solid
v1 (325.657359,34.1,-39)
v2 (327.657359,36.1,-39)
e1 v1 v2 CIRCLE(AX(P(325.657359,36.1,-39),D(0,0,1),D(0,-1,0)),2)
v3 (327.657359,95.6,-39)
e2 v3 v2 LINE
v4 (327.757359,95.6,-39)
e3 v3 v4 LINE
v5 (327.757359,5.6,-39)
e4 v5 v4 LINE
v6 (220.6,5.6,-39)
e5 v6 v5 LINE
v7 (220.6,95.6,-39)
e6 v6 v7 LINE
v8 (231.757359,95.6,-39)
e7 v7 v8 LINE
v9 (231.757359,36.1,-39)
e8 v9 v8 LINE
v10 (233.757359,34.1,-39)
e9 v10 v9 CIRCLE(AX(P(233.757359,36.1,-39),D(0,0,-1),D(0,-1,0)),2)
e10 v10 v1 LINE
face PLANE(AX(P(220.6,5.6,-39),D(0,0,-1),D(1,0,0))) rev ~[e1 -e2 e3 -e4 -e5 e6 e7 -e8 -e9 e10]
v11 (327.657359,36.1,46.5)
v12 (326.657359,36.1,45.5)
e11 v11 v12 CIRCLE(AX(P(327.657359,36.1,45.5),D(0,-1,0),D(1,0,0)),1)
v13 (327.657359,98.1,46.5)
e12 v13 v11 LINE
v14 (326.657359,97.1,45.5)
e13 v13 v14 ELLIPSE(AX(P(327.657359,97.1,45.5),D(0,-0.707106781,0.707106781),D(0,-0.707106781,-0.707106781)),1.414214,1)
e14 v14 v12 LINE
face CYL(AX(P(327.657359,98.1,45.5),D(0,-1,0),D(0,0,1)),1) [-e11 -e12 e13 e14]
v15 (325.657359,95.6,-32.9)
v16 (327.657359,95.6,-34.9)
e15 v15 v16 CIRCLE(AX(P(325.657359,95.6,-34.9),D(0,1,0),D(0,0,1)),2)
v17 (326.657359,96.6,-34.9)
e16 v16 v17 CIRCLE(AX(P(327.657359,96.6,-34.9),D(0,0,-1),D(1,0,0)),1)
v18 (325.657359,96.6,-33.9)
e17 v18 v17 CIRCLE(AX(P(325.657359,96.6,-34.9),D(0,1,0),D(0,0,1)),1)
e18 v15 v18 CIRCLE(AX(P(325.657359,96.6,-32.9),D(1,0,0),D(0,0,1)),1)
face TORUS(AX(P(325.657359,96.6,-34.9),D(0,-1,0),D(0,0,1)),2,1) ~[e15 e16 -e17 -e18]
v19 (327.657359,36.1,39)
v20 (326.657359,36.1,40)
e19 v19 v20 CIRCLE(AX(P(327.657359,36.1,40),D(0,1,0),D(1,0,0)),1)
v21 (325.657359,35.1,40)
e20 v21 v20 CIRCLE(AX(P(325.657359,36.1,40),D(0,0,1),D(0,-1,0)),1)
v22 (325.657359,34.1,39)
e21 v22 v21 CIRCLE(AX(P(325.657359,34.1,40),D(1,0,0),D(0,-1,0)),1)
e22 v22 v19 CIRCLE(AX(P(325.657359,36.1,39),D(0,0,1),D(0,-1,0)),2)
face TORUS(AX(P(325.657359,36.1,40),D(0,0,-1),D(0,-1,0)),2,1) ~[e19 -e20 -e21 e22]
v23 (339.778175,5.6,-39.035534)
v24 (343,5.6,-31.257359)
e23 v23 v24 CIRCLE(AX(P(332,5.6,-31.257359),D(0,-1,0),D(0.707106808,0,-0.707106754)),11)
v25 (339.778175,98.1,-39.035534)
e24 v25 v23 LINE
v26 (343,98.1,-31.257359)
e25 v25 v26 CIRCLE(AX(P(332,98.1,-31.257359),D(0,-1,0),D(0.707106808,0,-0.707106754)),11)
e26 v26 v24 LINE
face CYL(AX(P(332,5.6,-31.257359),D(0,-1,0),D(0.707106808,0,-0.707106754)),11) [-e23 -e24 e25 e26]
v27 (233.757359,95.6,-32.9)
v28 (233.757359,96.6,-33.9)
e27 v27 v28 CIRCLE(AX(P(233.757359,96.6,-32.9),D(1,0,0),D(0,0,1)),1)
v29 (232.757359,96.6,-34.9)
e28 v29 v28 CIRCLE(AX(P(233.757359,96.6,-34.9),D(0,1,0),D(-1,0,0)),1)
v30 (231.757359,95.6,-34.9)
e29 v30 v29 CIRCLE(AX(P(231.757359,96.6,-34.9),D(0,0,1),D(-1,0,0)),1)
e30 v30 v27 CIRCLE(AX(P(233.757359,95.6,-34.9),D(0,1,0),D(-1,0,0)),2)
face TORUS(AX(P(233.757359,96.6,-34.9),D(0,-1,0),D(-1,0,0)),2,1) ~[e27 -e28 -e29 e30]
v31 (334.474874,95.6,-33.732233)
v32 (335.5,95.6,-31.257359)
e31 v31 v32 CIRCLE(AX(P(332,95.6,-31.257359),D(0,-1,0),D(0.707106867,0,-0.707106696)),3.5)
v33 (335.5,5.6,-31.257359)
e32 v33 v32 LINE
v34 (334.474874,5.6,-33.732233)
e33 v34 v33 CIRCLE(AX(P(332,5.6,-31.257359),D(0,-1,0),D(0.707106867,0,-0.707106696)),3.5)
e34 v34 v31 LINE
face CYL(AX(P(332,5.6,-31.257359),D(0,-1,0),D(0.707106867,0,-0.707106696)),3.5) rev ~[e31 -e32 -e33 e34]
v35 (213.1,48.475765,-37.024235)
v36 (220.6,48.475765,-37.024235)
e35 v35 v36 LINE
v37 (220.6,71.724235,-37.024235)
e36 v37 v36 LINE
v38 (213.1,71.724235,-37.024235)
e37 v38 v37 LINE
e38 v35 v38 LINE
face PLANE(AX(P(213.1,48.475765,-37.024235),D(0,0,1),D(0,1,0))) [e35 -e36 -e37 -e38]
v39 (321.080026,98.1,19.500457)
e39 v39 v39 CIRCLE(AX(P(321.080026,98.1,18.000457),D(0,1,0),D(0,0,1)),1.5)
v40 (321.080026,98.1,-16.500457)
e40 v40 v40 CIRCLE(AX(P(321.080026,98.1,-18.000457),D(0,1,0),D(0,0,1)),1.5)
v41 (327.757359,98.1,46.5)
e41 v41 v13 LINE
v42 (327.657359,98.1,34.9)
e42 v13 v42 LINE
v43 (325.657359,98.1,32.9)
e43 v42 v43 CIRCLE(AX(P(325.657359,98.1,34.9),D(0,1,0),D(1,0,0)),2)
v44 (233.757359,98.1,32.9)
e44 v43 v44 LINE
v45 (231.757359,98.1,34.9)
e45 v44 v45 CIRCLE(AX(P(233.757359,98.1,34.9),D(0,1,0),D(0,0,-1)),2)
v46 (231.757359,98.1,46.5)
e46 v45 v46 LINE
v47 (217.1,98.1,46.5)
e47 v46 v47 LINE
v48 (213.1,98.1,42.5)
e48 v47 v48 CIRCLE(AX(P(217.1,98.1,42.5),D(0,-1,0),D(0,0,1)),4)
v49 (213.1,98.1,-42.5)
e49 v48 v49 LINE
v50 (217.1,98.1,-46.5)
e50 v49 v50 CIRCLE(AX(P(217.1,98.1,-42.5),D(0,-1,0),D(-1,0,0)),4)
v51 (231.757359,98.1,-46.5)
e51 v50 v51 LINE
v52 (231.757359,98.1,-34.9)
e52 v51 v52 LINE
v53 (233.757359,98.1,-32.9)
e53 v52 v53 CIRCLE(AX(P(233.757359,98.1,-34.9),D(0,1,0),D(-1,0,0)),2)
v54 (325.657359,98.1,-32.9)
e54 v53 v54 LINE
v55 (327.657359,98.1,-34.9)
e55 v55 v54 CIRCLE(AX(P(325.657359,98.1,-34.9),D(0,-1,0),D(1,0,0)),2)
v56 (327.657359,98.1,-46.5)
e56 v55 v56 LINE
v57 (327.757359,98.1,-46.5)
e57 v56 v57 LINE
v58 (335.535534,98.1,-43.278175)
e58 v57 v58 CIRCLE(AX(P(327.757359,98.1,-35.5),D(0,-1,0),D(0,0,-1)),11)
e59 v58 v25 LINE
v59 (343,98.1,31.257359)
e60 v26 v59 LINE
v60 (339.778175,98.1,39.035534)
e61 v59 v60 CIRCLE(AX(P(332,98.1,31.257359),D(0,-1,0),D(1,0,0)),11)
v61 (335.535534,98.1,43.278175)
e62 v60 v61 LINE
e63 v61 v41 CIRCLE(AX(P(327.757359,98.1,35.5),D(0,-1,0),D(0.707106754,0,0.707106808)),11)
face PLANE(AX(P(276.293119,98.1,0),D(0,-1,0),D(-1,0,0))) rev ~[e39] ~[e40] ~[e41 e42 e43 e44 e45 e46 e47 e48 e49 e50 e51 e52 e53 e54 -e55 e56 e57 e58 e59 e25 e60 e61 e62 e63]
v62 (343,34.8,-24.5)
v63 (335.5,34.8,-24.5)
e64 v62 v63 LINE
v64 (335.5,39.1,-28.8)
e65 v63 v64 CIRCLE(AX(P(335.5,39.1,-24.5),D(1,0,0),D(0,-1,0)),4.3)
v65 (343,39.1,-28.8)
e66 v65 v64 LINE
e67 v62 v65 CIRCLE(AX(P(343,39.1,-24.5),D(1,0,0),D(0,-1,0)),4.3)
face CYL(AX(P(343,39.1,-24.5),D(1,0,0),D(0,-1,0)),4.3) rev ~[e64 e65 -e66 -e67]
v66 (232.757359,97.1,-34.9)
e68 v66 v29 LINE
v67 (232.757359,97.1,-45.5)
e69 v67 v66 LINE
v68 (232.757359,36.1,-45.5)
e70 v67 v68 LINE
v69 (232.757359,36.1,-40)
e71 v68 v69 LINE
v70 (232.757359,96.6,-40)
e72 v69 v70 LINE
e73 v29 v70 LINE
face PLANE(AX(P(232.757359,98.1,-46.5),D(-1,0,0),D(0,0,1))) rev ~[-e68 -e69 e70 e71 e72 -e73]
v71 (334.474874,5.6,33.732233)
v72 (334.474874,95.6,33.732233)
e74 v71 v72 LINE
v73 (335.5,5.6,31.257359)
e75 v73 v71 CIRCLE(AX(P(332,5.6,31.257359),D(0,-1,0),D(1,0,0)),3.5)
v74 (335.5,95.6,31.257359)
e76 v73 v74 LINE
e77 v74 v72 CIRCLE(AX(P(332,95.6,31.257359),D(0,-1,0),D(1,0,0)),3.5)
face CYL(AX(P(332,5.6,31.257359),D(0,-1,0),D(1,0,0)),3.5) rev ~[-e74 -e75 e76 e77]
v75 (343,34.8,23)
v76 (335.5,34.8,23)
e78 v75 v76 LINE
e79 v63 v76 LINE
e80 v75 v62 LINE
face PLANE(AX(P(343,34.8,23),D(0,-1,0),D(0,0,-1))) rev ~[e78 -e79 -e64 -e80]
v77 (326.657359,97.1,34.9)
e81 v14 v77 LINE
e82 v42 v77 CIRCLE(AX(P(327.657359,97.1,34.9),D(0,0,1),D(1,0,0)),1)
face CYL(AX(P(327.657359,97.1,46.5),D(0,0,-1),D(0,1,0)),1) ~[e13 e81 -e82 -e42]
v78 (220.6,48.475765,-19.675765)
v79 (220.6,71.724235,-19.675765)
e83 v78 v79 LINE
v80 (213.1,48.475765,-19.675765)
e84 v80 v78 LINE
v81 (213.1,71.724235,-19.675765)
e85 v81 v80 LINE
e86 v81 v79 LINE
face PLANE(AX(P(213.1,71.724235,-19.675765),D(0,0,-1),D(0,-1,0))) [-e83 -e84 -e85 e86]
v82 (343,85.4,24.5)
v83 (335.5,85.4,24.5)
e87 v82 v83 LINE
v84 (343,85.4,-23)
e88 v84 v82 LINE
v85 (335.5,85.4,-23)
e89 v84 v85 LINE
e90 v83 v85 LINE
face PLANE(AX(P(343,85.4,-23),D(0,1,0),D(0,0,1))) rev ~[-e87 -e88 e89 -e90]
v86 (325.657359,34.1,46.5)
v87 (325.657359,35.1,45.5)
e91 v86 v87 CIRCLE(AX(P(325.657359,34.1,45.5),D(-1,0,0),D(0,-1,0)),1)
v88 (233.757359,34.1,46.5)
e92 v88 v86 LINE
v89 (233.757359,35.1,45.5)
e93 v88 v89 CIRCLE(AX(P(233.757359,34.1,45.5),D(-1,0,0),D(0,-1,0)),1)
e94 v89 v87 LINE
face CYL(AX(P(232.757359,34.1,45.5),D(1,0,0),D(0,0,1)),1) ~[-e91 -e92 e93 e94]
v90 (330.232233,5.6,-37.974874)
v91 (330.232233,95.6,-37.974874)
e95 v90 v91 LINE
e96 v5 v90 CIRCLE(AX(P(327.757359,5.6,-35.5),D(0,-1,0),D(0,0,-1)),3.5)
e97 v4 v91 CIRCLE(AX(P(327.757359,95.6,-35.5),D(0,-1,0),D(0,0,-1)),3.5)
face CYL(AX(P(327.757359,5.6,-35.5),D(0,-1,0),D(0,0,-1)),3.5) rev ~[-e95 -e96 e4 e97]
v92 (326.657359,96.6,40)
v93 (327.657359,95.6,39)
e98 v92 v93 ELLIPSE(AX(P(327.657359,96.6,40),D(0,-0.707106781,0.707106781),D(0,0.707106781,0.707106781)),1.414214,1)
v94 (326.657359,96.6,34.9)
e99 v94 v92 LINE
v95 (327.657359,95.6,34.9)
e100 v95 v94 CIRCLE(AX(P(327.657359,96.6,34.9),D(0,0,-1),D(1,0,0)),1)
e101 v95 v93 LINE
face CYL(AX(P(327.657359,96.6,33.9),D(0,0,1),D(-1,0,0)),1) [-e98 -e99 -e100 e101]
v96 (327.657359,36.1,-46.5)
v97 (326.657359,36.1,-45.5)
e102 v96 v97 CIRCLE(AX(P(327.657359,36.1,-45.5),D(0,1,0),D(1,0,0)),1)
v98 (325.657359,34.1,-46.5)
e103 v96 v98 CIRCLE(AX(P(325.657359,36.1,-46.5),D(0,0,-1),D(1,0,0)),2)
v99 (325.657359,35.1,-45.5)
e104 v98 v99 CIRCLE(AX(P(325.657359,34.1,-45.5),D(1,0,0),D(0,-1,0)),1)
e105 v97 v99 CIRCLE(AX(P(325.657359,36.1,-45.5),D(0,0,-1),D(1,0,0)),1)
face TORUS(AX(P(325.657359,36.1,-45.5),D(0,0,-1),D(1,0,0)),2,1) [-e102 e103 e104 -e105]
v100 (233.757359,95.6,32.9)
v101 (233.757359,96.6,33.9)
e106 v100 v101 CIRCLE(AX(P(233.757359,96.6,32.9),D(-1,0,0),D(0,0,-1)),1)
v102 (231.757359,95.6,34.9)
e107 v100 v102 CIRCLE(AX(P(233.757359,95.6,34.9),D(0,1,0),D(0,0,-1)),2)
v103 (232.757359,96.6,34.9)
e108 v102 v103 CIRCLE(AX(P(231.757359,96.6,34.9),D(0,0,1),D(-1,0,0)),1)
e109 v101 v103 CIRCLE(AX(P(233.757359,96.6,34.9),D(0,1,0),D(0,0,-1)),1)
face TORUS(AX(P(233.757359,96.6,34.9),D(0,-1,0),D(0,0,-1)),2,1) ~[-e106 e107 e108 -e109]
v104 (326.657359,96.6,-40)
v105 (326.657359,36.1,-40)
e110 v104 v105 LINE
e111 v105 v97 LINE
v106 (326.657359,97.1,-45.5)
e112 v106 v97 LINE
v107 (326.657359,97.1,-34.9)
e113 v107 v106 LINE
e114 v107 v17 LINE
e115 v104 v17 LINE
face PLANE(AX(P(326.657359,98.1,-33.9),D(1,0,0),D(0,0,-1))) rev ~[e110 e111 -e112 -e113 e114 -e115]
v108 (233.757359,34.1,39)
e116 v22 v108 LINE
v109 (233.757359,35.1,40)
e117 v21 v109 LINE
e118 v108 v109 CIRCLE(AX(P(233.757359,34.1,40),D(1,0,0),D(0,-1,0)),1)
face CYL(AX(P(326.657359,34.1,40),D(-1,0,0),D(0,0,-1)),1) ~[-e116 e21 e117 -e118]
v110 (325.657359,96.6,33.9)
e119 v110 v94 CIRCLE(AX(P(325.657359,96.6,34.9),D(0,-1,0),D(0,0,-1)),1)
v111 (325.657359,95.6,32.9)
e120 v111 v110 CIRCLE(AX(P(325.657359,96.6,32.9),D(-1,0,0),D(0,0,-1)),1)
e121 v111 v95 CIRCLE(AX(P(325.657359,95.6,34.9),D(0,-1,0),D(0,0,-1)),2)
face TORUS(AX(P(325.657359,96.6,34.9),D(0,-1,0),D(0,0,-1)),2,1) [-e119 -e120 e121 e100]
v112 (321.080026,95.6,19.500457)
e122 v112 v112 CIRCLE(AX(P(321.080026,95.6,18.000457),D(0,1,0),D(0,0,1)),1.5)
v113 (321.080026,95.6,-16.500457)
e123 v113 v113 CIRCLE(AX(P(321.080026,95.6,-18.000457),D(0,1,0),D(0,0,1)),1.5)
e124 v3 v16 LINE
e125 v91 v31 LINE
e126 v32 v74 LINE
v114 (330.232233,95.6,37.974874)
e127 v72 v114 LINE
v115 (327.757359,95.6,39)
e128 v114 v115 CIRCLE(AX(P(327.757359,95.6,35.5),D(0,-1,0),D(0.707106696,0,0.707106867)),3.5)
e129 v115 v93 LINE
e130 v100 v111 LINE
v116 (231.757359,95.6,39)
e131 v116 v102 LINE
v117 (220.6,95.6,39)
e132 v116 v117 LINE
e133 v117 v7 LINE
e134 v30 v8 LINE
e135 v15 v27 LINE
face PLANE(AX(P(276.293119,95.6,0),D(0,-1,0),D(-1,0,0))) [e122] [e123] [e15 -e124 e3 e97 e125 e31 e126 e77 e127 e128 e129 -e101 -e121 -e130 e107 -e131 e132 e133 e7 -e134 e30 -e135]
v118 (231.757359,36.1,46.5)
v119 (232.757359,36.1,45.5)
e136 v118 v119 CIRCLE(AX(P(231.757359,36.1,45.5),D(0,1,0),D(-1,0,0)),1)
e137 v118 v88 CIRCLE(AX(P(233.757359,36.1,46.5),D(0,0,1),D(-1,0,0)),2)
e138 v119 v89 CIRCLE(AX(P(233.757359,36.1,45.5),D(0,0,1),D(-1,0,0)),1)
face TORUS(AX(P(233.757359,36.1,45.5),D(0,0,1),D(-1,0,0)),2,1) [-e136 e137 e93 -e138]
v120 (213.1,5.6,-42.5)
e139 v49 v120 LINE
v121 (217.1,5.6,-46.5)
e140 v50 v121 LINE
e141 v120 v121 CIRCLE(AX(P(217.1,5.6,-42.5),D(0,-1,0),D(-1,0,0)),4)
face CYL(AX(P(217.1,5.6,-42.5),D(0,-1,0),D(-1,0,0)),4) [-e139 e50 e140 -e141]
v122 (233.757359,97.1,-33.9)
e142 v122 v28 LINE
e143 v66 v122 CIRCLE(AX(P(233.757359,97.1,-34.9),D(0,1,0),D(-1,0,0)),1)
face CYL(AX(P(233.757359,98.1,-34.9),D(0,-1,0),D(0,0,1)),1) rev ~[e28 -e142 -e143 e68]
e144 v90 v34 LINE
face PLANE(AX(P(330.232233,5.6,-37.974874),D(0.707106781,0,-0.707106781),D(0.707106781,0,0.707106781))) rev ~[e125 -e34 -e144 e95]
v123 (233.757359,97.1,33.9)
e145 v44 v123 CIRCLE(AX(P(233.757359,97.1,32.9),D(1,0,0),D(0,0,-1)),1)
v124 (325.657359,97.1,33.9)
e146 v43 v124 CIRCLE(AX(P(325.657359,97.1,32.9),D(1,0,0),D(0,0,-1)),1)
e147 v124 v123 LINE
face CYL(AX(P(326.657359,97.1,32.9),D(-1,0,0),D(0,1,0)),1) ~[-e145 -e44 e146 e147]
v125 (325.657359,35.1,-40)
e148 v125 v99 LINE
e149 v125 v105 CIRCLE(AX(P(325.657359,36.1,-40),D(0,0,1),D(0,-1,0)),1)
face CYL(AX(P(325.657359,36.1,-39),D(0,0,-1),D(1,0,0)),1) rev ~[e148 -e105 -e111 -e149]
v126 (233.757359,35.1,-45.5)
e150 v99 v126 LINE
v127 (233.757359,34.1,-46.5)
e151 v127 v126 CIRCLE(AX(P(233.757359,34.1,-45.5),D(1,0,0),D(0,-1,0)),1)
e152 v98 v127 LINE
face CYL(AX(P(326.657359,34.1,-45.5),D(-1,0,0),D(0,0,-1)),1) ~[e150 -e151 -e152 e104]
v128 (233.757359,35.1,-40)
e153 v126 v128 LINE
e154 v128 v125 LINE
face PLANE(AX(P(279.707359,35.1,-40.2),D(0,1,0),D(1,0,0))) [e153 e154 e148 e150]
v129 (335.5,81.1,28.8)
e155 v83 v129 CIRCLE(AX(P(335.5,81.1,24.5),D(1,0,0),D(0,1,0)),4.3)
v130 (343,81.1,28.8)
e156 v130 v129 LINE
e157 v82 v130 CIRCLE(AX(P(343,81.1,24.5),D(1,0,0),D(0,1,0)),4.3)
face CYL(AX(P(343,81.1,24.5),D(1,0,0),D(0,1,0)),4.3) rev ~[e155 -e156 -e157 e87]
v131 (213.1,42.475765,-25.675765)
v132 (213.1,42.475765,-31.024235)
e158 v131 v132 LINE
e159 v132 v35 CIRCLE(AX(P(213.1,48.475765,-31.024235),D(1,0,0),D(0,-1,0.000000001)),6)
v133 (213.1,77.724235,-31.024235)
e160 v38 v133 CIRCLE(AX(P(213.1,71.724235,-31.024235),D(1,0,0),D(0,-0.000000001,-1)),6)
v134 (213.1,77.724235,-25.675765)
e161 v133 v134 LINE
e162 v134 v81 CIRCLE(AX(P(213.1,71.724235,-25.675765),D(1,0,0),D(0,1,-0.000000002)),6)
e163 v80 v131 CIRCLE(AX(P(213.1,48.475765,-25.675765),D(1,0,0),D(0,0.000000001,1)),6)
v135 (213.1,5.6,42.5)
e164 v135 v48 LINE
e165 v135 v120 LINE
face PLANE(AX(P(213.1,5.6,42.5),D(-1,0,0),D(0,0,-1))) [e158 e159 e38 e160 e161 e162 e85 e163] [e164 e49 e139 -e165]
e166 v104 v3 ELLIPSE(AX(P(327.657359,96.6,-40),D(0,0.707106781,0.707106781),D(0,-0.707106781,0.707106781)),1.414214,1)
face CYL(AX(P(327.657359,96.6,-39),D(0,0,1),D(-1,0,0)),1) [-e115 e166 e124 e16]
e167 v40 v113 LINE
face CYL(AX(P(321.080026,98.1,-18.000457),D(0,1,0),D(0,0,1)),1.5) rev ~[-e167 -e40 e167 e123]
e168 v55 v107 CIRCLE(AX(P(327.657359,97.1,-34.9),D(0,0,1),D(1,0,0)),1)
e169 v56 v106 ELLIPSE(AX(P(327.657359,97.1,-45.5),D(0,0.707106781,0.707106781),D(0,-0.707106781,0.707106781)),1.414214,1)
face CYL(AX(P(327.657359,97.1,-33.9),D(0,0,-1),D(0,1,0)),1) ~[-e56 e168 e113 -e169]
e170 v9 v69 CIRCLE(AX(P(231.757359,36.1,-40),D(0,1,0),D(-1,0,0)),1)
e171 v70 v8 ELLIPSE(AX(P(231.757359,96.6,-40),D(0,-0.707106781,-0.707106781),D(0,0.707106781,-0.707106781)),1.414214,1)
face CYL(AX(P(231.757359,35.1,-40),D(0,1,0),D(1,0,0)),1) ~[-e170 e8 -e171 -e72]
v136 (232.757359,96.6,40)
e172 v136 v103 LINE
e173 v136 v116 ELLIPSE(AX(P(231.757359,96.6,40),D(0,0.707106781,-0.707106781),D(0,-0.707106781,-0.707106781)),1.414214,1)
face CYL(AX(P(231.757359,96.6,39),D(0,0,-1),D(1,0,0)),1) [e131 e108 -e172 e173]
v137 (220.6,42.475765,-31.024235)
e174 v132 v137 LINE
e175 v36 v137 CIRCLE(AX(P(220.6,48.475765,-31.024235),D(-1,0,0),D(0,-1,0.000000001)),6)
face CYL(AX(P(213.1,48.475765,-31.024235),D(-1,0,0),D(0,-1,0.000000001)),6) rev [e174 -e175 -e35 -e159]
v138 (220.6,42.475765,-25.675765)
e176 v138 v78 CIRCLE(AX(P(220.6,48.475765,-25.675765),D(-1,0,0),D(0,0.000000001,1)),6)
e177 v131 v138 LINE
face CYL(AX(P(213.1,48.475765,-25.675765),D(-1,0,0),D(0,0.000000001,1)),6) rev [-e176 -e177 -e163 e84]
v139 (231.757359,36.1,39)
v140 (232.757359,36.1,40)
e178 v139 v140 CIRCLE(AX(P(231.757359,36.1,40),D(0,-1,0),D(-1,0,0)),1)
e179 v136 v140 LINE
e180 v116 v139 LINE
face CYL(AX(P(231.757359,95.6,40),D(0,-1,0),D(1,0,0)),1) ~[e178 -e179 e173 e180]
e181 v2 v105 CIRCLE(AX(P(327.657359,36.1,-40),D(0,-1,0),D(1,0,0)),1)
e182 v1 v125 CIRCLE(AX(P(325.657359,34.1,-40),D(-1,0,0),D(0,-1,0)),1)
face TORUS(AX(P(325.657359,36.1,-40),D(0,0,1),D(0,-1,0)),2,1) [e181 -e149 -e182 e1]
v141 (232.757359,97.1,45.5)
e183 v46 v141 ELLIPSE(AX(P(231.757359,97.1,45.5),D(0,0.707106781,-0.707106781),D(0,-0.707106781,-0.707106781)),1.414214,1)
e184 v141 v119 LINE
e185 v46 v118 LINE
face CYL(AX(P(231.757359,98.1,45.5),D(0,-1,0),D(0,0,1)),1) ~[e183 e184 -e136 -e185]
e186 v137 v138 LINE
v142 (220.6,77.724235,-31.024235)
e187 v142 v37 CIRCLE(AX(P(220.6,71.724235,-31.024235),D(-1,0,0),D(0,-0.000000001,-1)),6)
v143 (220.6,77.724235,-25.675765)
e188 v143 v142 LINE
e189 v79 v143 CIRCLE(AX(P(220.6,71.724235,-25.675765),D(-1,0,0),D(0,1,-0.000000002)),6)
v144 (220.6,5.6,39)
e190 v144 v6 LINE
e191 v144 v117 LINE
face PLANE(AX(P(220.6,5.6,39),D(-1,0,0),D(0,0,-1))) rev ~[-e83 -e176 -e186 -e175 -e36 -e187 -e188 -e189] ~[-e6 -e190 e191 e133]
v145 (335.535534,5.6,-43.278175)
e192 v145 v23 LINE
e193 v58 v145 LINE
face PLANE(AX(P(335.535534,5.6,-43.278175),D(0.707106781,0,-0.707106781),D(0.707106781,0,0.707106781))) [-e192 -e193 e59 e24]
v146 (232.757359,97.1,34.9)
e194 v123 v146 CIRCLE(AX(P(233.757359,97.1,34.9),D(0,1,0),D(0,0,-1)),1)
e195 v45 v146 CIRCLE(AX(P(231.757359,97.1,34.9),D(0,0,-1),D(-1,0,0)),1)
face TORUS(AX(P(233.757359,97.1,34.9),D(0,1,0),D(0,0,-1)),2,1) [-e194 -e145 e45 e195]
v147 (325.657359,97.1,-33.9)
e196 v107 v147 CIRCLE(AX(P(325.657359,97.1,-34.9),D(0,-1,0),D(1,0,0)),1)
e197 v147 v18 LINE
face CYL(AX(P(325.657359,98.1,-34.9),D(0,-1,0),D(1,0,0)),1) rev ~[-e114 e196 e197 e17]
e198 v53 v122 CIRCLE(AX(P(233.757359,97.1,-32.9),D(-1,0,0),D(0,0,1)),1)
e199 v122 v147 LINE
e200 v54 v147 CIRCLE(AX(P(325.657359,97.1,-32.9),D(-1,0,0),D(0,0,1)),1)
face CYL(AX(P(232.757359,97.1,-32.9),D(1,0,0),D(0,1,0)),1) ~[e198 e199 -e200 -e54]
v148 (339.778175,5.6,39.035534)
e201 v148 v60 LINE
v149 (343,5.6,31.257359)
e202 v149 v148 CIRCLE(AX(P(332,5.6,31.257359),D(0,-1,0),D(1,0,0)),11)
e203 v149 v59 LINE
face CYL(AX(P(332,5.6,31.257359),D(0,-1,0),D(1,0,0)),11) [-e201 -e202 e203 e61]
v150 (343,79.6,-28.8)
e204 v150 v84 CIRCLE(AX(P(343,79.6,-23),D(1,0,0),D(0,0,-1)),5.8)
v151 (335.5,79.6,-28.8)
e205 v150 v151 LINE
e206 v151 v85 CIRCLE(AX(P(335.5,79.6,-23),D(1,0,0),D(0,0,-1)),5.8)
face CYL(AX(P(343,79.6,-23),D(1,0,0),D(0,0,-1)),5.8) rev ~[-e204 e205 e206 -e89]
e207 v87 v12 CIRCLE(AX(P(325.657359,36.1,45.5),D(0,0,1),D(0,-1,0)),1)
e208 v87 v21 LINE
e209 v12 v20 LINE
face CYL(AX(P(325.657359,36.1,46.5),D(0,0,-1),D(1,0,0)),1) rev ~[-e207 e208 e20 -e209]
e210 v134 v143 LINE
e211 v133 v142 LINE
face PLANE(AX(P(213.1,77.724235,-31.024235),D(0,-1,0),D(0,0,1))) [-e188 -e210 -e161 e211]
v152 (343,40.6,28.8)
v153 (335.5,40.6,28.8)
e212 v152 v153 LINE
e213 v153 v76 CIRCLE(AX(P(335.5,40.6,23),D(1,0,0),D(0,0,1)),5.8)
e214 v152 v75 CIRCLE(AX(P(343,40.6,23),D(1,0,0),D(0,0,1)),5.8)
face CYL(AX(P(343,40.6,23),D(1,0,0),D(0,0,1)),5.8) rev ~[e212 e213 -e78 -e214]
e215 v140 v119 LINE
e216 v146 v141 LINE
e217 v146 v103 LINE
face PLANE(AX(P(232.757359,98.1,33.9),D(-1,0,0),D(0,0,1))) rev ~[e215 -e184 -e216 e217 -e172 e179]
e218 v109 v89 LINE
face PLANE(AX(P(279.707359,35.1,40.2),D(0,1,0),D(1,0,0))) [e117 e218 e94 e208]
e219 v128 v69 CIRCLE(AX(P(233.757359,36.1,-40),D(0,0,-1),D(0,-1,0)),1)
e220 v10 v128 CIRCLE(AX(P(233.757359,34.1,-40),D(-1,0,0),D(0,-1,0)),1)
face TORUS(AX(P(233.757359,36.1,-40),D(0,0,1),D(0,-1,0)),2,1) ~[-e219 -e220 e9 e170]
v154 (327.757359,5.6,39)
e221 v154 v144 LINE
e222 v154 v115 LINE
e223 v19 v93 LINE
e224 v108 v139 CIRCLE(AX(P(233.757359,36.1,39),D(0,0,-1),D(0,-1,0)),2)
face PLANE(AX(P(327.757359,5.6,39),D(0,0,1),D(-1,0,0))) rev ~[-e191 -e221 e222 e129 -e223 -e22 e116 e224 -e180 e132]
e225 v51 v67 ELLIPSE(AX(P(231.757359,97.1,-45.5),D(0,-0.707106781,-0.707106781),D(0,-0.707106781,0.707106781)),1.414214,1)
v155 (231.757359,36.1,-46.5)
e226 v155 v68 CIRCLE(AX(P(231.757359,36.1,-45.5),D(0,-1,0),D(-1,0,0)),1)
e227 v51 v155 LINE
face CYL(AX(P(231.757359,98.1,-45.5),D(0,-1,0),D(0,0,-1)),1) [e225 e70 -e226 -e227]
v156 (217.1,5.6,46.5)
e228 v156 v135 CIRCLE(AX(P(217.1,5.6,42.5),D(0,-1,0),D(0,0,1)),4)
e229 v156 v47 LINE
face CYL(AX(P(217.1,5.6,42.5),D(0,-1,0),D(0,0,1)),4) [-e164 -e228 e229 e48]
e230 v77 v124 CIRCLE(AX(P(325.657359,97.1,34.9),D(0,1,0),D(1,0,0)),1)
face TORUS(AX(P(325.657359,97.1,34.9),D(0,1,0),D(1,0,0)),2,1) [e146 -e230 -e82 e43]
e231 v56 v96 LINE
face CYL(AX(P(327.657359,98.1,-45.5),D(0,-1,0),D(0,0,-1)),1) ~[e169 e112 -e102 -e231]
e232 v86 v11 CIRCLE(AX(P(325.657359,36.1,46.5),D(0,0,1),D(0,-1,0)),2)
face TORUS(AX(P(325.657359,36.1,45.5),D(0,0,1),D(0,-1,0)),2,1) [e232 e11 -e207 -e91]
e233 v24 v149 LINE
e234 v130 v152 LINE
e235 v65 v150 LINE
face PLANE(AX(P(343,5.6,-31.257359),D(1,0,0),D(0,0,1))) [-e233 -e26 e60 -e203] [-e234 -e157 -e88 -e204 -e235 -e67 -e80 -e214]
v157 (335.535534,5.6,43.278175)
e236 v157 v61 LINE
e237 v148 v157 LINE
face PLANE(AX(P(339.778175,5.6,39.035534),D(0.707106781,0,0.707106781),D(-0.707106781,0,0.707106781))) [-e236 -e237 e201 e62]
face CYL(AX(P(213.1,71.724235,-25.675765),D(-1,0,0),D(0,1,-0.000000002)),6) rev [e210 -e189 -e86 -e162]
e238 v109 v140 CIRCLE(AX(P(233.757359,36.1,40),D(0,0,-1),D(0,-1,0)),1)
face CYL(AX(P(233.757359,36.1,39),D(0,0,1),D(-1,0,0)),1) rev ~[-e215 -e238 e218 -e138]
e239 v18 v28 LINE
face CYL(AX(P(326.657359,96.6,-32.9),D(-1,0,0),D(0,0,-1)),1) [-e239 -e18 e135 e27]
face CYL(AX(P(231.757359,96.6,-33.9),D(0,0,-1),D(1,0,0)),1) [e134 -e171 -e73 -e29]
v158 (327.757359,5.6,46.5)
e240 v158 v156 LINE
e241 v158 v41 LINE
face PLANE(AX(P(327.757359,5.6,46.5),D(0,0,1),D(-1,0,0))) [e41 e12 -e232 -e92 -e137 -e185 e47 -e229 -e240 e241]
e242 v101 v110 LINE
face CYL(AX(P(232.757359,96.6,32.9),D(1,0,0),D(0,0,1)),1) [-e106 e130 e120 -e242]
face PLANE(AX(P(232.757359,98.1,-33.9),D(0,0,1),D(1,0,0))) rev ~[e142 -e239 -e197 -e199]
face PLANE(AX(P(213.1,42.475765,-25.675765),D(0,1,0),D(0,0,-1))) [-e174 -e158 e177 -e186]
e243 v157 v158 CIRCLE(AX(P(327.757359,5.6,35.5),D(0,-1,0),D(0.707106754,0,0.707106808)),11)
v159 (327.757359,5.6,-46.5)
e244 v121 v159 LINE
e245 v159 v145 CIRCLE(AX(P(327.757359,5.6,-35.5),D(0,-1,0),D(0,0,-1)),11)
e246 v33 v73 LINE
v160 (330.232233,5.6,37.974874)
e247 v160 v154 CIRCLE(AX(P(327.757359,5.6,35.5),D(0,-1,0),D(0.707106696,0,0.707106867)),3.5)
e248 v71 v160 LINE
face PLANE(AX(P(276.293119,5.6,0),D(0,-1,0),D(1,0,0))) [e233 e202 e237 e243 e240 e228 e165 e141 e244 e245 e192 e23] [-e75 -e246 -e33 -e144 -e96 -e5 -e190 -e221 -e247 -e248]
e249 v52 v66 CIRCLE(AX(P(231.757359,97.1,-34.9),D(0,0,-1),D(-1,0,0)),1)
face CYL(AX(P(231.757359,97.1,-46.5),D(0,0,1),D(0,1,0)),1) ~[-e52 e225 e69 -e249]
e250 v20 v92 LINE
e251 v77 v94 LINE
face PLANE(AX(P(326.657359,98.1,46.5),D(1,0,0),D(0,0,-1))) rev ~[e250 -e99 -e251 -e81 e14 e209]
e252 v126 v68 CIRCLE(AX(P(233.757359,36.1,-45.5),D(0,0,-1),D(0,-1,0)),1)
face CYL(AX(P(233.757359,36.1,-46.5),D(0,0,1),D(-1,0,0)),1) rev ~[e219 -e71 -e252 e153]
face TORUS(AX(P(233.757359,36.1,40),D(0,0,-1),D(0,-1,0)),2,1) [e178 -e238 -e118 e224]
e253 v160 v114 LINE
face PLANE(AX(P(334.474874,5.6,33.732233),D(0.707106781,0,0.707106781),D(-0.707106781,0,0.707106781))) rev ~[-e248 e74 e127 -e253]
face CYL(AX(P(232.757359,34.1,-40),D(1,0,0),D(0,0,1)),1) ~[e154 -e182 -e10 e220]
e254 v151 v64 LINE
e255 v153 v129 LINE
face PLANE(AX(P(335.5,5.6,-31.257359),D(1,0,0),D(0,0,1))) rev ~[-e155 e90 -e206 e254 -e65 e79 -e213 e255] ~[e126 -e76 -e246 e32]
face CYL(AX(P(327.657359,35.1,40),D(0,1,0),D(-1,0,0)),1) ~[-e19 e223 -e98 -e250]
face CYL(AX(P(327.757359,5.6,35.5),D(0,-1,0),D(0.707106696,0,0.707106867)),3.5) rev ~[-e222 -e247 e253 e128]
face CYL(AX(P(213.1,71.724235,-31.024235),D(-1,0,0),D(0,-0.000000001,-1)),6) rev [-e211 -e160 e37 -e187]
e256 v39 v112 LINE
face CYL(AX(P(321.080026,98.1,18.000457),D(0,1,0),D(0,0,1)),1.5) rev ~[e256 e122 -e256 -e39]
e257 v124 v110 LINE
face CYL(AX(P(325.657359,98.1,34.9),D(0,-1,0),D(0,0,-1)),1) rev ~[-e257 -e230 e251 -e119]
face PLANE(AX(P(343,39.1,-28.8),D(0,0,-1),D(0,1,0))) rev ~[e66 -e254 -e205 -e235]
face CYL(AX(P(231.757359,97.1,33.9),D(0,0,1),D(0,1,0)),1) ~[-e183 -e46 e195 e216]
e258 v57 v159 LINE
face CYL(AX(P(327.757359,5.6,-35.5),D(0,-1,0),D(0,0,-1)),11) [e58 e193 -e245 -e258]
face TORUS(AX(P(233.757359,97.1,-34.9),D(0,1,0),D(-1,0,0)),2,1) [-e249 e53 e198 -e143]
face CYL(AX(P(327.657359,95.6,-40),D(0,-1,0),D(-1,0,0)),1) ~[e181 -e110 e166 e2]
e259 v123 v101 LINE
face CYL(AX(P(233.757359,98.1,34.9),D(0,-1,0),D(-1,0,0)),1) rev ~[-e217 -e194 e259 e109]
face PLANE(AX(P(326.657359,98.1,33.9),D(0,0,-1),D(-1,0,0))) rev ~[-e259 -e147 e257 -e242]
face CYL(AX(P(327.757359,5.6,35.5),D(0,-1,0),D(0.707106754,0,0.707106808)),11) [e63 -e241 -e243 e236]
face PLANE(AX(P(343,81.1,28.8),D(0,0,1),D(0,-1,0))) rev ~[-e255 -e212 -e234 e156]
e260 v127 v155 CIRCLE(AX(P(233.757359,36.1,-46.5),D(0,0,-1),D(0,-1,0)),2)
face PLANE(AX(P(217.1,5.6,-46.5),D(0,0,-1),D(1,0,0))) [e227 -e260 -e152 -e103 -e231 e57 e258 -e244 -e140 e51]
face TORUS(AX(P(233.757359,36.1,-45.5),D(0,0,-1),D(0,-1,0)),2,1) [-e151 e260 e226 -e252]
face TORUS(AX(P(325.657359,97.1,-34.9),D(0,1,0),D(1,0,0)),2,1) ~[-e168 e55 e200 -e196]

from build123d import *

# Parameters (mm, degrees)
SALIENTE_EXTRUIR1_DEPTH = 2.5
SALIENTE_EXTRUIR2_START = 90
SALIENTE_EXTRUIR2_DEPTH = 90
CORTAR_EXTRUIR2_REACH   = 171.292
CORTAR_EXTRUIR4_DEPTH   = 63
REDONDEO1_R             = 1
CORTAR_EXTRUIR5_REACH   = 171.292
CROQUIS7_R              = 1.5
CORTAR_EXTRUIR6_DEPTH   = 5


with BuildPart() as part:
    # Croquis1 → Saliente-Extruir1 (new body)
    with BuildSketch(Plane(origin=(0, 95.6, 0), x_dir=(1, 0, 0), z_dir=(0, 1, 0))):
        with BuildLine():
            Line((327.757359313, -46.5), (227.242640687, -46.5))
            Line((227.242640687, -46.5), (217.1, -46.5))
            ThreePointArc((217.1, -46.5), (214.271572875, -45.328427125), (213.1, -42.5))
            Line((213.1, -42.5), (213.1, 42.5))
            ThreePointArc((213.1, 42.5), (214.271572875, 45.328427125), (217.1, 46.5))
            Line((217.1, 46.5), (227.242640687, 46.5))
            Line((227.242640687, 46.5), (327.757359313, 46.5))
            ThreePointArc((327.757359313, 46.5), (331.966877069, 45.662674858), (335.535533906, 43.278174593))
            Line((335.535533906, 43.278174593), (339.778174891, 39.035533608))
            ThreePointArc((339.778174891, 39.035533608), (342.162674938, 35.466876874), (343, 31.257359313))
            Line((343, 31.257359313), (343, -31.257359312))
            ThreePointArc((343, -31.257359312), (342.162674858, -35.466877069), (339.778174593, -39.035533906))
            Line((339.778174593, -39.035533906), (335.535533608, -43.278174891))
            ThreePointArc((335.535533608, -43.278174891), (331.966876874, -45.662674939), (327.757359313, -46.5))
        make_face()
    extrude(amount=SALIENTE_EXTRUIR1_DEPTH)

    # Croquis2 → Saliente-Extruir2 (add)
    with BuildSketch(Plane.XZ.offset(-95.6).offset(SALIENTE_EXTRUIR2_START)):
        with BuildLine():
            Line((213.1, 42.5), (213.1, -42.5))
            ThreePointArc((213.1, -42.5), (214.271572875, -45.328427125), (217.1, -46.5))
            Line((217.1, -46.5), (327.757359313, -46.5))
            ThreePointArc((327.757359313, -46.5), (331.966877069, -45.662674858), (335.535533906, -43.278174593))
            Line((335.535533906, -43.278174593), (339.778174891, -39.035533608))
            ThreePointArc((339.778174891, -39.035533608), (342.162674938, -35.466876874), (343, -31.257359313))
            Line((343, -31.257359313), (343, 31.257359312))
            ThreePointArc((343, 31.257359312), (342.162674858, 35.466877069), (339.778174593, 39.035533906))
            Line((339.778174593, 39.035533906), (335.535533608, 43.278174891))
            ThreePointArc((335.535533608, 43.278174891), (331.966876874, 45.662674939), (327.757359313, 46.5))
            Line((327.757359313, 46.5), (217.1, 46.5))
            ThreePointArc((217.1, 46.5), (214.271572875, 45.328427125), (213.1, 42.5))
        make_face()
        with BuildLine():
            Line((220.6, 39), (220.6, -39))
            Line((220.6, -39), (327.757359313, -39))
            ThreePointArc((327.757359313, -39), (329.096751326, -38.733578364), (330.232233047, -37.974873734))
            Line((330.232233047, -37.974873734), (334.474874032, -33.732232749))
            ThreePointArc((334.474874032, -33.732232749), (335.233578444, -32.596751131), (335.5, -31.257359313))
            Line((335.5, -31.257359313), (335.5, 31.257359312))
            ThreePointArc((335.5, 31.257359312), (335.233578364, 32.596751326), (334.474873734, 33.732233047))
            Line((334.474873734, 33.732233047), (330.232232749, 37.974874033))
            ThreePointArc((330.232232749, 37.974874033), (329.096751131, 38.733578445), (327.757359313, 39))
            Line((327.757359313, 39), (220.6, 39))
        make_face(mode=Mode.SUBTRACT)
    extrude(amount=-SALIENTE_EXTRUIR2_DEPTH)

    # Croquis3 → Cortar-Extruir2 (cut, up to next)
    with BuildSketch(Plane(origin=(343, 0, 0), x_dir=(0, 0, -1), z_dir=(1, 0, 0)), mode=Mode.PRIVATE) as cortar_extruir2_sk1:
        with BuildLine():
            Line((23, 85.4), (-24.5, 85.4))
            ThreePointArc((-24.5, 85.4), (-27.540559159, 84.140559159), (-28.8, 81.1))
            Line((-28.8, 81.1), (-28.8, 40.6))
            ThreePointArc((-28.8, 40.6), (-27.101219331, 36.498780669), (-23, 34.8))
            Line((-23, 34.8), (24.5, 34.8))
            ThreePointArc((24.5, 34.8), (27.540559159, 36.059440841), (28.8, 39.1))
            Line((28.8, 39.1), (28.8, 79.6))
            ThreePointArc((28.8, 79.6), (27.101219331, 83.701219331), (23, 85.4))
        make_face()
    cortar_extruir2_tool1 = extrude(cortar_extruir2_sk1.sketch, amount=-CORTAR_EXTRUIR2_REACH, mode=Mode.PRIVATE) & part.part
    add(cortar_extruir2_tool1.solids().sort_by_distance((343, 60.1, 0))[0], mode=Mode.SUBTRACT)

    # Croquis4 → Cortar-Extruir4 (cut)
    with BuildSketch(Plane(origin=(0, 98.1, 0), x_dir=(1, 0, 0), z_dir=(0, 1, 0))):
        Polygon((232.757359313, -33.9), (232.757359313, -38.5), (232.757359313, -46.5), (326.657359313, -46.5), (326.657359313, -38.5), (326.657359313, -33.9), align=None)
        Polygon((326.657359313, 46.5), (232.757359313, 46.5), (232.757359313, 38.5), (232.757359313, 33.9), (326.657359313, 33.9), (326.657359313, 38.5), align=None)
    extrude(amount=-CORTAR_EXTRUIR4_DEPTH, mode=Mode.SUBTRACT)

    # Redondeo1
    redondeo1_edges = [part.edges().sort_by_distance(p)[0] for p in [
        (232.757359313, 95.6, -36.45),
        (279.707359313, 95.6, -33.9),
        (326.657359313, 95.6, -36.45),
        (279.707359313, 95.6, 33.9),
        (232.757359313, 95.6, 36.45),
        (326.657359313, 95.6, 36.45),
        (279.707359313, 35.1, 39),
        (279.707359313, 35.1, -39),
        (326.657359313, 65.35, 39),
        (232.757359313, 65.35, 39),
        (232.757359313, 96.85, 33.9),
        (326.657359313, 96.85, 33.9),
        (326.657359313, 35.1, 42.75),
        (279.707359313, 35.1, 46.5),
        (326.657359313, 66.6, 46.5),
        (232.757359313, 35.1, 42.75),
        (232.757359313, 66.6, 46.5),
        (326.657359313, 98.1, 40.2),
        (279.707359313, 98.1, 33.9),
        (232.757359313, 98.1, 40.2),
        (326.657359313, 65.35, -39),
        (326.657359313, 96.85, -33.9),
        (232.757359313, 65.35, -39),
        (326.657359313, 35.1, -42.75),
        (326.657359313, 66.6, -46.5),
        (232.757359313, 96.85, -33.9),
        (232.757359313, 35.1, -42.75),
        (279.707359313, 35.1, -46.5),
        (232.757359313, 66.6, -46.5),
        (326.657359313, 98.1, -40.2),
        (232.757359313, 98.1, -40.2),
        (279.707359313, 98.1, -33.9),
    ]]
    fillet(redondeo1_edges, radius=REDONDEO1_R)

    # Croquis5 → Cortar-Extruir5 (cut, up to next)
    with BuildSketch(Plane.ZY.offset(-213.1), mode=Mode.PRIVATE) as cortar_extruir5_sk1:
        with BuildLine():
            Line((-19.675765155, 71.72423484), (-19.675765155, 48.475765161))
            ThreePointArc((-19.675765155, 48.475765161), (-21.433124468, 44.233124467), (-25.675765163, 42.475765155))
            Line((-25.675765163, 42.475765155), (-31.024234836, 42.475765155))
            ThreePointArc((-31.024234836, 42.475765155), (-35.266875531, 44.233124467), (-37.024234845, 48.475765162))
            Line((-37.024234845, 48.475765162), (-37.024234845, 71.724234837))
            ThreePointArc((-37.024234845, 71.724234837), (-35.266875532, 75.966875532), (-31.024234837, 77.724234845))
            Line((-31.024234837, 77.724234845), (-25.675765164, 77.724234845))
            ThreePointArc((-25.675765164, 77.724234845), (-21.433124469, 75.966875534), (-19.675765155, 71.72423484))
        make_face()
    cortar_extruir5_tool1 = extrude(cortar_extruir5_sk1.sketch, amount=-CORTAR_EXTRUIR5_REACH, mode=Mode.PRIVATE) & part.part
    add(cortar_extruir5_tool1.solids().sort_by_distance((213.1, 60.1, -28.35))[0], mode=Mode.SUBTRACT)

    # Croquis7 → Cortar-Extruir6 (cut)
    with BuildSketch(Plane(origin=(0, 98.1, 0), x_dir=(1, 0, 0), z_dir=(0, 1, 0))):
        with Locations(Location((321.080026167, 18.000457457, 0), (0, 0, 270))):
            Circle(CROQUIS7_R)
        with Locations(Location((321.080026167, -18.000457457, 0), (0, 0, 270))):
            Circle(CROQUIS7_R)
    extrude(amount=-CORTAR_EXTRUIR6_DEPTH, mode=Mode.SUBTRACT)


solid = part.part
